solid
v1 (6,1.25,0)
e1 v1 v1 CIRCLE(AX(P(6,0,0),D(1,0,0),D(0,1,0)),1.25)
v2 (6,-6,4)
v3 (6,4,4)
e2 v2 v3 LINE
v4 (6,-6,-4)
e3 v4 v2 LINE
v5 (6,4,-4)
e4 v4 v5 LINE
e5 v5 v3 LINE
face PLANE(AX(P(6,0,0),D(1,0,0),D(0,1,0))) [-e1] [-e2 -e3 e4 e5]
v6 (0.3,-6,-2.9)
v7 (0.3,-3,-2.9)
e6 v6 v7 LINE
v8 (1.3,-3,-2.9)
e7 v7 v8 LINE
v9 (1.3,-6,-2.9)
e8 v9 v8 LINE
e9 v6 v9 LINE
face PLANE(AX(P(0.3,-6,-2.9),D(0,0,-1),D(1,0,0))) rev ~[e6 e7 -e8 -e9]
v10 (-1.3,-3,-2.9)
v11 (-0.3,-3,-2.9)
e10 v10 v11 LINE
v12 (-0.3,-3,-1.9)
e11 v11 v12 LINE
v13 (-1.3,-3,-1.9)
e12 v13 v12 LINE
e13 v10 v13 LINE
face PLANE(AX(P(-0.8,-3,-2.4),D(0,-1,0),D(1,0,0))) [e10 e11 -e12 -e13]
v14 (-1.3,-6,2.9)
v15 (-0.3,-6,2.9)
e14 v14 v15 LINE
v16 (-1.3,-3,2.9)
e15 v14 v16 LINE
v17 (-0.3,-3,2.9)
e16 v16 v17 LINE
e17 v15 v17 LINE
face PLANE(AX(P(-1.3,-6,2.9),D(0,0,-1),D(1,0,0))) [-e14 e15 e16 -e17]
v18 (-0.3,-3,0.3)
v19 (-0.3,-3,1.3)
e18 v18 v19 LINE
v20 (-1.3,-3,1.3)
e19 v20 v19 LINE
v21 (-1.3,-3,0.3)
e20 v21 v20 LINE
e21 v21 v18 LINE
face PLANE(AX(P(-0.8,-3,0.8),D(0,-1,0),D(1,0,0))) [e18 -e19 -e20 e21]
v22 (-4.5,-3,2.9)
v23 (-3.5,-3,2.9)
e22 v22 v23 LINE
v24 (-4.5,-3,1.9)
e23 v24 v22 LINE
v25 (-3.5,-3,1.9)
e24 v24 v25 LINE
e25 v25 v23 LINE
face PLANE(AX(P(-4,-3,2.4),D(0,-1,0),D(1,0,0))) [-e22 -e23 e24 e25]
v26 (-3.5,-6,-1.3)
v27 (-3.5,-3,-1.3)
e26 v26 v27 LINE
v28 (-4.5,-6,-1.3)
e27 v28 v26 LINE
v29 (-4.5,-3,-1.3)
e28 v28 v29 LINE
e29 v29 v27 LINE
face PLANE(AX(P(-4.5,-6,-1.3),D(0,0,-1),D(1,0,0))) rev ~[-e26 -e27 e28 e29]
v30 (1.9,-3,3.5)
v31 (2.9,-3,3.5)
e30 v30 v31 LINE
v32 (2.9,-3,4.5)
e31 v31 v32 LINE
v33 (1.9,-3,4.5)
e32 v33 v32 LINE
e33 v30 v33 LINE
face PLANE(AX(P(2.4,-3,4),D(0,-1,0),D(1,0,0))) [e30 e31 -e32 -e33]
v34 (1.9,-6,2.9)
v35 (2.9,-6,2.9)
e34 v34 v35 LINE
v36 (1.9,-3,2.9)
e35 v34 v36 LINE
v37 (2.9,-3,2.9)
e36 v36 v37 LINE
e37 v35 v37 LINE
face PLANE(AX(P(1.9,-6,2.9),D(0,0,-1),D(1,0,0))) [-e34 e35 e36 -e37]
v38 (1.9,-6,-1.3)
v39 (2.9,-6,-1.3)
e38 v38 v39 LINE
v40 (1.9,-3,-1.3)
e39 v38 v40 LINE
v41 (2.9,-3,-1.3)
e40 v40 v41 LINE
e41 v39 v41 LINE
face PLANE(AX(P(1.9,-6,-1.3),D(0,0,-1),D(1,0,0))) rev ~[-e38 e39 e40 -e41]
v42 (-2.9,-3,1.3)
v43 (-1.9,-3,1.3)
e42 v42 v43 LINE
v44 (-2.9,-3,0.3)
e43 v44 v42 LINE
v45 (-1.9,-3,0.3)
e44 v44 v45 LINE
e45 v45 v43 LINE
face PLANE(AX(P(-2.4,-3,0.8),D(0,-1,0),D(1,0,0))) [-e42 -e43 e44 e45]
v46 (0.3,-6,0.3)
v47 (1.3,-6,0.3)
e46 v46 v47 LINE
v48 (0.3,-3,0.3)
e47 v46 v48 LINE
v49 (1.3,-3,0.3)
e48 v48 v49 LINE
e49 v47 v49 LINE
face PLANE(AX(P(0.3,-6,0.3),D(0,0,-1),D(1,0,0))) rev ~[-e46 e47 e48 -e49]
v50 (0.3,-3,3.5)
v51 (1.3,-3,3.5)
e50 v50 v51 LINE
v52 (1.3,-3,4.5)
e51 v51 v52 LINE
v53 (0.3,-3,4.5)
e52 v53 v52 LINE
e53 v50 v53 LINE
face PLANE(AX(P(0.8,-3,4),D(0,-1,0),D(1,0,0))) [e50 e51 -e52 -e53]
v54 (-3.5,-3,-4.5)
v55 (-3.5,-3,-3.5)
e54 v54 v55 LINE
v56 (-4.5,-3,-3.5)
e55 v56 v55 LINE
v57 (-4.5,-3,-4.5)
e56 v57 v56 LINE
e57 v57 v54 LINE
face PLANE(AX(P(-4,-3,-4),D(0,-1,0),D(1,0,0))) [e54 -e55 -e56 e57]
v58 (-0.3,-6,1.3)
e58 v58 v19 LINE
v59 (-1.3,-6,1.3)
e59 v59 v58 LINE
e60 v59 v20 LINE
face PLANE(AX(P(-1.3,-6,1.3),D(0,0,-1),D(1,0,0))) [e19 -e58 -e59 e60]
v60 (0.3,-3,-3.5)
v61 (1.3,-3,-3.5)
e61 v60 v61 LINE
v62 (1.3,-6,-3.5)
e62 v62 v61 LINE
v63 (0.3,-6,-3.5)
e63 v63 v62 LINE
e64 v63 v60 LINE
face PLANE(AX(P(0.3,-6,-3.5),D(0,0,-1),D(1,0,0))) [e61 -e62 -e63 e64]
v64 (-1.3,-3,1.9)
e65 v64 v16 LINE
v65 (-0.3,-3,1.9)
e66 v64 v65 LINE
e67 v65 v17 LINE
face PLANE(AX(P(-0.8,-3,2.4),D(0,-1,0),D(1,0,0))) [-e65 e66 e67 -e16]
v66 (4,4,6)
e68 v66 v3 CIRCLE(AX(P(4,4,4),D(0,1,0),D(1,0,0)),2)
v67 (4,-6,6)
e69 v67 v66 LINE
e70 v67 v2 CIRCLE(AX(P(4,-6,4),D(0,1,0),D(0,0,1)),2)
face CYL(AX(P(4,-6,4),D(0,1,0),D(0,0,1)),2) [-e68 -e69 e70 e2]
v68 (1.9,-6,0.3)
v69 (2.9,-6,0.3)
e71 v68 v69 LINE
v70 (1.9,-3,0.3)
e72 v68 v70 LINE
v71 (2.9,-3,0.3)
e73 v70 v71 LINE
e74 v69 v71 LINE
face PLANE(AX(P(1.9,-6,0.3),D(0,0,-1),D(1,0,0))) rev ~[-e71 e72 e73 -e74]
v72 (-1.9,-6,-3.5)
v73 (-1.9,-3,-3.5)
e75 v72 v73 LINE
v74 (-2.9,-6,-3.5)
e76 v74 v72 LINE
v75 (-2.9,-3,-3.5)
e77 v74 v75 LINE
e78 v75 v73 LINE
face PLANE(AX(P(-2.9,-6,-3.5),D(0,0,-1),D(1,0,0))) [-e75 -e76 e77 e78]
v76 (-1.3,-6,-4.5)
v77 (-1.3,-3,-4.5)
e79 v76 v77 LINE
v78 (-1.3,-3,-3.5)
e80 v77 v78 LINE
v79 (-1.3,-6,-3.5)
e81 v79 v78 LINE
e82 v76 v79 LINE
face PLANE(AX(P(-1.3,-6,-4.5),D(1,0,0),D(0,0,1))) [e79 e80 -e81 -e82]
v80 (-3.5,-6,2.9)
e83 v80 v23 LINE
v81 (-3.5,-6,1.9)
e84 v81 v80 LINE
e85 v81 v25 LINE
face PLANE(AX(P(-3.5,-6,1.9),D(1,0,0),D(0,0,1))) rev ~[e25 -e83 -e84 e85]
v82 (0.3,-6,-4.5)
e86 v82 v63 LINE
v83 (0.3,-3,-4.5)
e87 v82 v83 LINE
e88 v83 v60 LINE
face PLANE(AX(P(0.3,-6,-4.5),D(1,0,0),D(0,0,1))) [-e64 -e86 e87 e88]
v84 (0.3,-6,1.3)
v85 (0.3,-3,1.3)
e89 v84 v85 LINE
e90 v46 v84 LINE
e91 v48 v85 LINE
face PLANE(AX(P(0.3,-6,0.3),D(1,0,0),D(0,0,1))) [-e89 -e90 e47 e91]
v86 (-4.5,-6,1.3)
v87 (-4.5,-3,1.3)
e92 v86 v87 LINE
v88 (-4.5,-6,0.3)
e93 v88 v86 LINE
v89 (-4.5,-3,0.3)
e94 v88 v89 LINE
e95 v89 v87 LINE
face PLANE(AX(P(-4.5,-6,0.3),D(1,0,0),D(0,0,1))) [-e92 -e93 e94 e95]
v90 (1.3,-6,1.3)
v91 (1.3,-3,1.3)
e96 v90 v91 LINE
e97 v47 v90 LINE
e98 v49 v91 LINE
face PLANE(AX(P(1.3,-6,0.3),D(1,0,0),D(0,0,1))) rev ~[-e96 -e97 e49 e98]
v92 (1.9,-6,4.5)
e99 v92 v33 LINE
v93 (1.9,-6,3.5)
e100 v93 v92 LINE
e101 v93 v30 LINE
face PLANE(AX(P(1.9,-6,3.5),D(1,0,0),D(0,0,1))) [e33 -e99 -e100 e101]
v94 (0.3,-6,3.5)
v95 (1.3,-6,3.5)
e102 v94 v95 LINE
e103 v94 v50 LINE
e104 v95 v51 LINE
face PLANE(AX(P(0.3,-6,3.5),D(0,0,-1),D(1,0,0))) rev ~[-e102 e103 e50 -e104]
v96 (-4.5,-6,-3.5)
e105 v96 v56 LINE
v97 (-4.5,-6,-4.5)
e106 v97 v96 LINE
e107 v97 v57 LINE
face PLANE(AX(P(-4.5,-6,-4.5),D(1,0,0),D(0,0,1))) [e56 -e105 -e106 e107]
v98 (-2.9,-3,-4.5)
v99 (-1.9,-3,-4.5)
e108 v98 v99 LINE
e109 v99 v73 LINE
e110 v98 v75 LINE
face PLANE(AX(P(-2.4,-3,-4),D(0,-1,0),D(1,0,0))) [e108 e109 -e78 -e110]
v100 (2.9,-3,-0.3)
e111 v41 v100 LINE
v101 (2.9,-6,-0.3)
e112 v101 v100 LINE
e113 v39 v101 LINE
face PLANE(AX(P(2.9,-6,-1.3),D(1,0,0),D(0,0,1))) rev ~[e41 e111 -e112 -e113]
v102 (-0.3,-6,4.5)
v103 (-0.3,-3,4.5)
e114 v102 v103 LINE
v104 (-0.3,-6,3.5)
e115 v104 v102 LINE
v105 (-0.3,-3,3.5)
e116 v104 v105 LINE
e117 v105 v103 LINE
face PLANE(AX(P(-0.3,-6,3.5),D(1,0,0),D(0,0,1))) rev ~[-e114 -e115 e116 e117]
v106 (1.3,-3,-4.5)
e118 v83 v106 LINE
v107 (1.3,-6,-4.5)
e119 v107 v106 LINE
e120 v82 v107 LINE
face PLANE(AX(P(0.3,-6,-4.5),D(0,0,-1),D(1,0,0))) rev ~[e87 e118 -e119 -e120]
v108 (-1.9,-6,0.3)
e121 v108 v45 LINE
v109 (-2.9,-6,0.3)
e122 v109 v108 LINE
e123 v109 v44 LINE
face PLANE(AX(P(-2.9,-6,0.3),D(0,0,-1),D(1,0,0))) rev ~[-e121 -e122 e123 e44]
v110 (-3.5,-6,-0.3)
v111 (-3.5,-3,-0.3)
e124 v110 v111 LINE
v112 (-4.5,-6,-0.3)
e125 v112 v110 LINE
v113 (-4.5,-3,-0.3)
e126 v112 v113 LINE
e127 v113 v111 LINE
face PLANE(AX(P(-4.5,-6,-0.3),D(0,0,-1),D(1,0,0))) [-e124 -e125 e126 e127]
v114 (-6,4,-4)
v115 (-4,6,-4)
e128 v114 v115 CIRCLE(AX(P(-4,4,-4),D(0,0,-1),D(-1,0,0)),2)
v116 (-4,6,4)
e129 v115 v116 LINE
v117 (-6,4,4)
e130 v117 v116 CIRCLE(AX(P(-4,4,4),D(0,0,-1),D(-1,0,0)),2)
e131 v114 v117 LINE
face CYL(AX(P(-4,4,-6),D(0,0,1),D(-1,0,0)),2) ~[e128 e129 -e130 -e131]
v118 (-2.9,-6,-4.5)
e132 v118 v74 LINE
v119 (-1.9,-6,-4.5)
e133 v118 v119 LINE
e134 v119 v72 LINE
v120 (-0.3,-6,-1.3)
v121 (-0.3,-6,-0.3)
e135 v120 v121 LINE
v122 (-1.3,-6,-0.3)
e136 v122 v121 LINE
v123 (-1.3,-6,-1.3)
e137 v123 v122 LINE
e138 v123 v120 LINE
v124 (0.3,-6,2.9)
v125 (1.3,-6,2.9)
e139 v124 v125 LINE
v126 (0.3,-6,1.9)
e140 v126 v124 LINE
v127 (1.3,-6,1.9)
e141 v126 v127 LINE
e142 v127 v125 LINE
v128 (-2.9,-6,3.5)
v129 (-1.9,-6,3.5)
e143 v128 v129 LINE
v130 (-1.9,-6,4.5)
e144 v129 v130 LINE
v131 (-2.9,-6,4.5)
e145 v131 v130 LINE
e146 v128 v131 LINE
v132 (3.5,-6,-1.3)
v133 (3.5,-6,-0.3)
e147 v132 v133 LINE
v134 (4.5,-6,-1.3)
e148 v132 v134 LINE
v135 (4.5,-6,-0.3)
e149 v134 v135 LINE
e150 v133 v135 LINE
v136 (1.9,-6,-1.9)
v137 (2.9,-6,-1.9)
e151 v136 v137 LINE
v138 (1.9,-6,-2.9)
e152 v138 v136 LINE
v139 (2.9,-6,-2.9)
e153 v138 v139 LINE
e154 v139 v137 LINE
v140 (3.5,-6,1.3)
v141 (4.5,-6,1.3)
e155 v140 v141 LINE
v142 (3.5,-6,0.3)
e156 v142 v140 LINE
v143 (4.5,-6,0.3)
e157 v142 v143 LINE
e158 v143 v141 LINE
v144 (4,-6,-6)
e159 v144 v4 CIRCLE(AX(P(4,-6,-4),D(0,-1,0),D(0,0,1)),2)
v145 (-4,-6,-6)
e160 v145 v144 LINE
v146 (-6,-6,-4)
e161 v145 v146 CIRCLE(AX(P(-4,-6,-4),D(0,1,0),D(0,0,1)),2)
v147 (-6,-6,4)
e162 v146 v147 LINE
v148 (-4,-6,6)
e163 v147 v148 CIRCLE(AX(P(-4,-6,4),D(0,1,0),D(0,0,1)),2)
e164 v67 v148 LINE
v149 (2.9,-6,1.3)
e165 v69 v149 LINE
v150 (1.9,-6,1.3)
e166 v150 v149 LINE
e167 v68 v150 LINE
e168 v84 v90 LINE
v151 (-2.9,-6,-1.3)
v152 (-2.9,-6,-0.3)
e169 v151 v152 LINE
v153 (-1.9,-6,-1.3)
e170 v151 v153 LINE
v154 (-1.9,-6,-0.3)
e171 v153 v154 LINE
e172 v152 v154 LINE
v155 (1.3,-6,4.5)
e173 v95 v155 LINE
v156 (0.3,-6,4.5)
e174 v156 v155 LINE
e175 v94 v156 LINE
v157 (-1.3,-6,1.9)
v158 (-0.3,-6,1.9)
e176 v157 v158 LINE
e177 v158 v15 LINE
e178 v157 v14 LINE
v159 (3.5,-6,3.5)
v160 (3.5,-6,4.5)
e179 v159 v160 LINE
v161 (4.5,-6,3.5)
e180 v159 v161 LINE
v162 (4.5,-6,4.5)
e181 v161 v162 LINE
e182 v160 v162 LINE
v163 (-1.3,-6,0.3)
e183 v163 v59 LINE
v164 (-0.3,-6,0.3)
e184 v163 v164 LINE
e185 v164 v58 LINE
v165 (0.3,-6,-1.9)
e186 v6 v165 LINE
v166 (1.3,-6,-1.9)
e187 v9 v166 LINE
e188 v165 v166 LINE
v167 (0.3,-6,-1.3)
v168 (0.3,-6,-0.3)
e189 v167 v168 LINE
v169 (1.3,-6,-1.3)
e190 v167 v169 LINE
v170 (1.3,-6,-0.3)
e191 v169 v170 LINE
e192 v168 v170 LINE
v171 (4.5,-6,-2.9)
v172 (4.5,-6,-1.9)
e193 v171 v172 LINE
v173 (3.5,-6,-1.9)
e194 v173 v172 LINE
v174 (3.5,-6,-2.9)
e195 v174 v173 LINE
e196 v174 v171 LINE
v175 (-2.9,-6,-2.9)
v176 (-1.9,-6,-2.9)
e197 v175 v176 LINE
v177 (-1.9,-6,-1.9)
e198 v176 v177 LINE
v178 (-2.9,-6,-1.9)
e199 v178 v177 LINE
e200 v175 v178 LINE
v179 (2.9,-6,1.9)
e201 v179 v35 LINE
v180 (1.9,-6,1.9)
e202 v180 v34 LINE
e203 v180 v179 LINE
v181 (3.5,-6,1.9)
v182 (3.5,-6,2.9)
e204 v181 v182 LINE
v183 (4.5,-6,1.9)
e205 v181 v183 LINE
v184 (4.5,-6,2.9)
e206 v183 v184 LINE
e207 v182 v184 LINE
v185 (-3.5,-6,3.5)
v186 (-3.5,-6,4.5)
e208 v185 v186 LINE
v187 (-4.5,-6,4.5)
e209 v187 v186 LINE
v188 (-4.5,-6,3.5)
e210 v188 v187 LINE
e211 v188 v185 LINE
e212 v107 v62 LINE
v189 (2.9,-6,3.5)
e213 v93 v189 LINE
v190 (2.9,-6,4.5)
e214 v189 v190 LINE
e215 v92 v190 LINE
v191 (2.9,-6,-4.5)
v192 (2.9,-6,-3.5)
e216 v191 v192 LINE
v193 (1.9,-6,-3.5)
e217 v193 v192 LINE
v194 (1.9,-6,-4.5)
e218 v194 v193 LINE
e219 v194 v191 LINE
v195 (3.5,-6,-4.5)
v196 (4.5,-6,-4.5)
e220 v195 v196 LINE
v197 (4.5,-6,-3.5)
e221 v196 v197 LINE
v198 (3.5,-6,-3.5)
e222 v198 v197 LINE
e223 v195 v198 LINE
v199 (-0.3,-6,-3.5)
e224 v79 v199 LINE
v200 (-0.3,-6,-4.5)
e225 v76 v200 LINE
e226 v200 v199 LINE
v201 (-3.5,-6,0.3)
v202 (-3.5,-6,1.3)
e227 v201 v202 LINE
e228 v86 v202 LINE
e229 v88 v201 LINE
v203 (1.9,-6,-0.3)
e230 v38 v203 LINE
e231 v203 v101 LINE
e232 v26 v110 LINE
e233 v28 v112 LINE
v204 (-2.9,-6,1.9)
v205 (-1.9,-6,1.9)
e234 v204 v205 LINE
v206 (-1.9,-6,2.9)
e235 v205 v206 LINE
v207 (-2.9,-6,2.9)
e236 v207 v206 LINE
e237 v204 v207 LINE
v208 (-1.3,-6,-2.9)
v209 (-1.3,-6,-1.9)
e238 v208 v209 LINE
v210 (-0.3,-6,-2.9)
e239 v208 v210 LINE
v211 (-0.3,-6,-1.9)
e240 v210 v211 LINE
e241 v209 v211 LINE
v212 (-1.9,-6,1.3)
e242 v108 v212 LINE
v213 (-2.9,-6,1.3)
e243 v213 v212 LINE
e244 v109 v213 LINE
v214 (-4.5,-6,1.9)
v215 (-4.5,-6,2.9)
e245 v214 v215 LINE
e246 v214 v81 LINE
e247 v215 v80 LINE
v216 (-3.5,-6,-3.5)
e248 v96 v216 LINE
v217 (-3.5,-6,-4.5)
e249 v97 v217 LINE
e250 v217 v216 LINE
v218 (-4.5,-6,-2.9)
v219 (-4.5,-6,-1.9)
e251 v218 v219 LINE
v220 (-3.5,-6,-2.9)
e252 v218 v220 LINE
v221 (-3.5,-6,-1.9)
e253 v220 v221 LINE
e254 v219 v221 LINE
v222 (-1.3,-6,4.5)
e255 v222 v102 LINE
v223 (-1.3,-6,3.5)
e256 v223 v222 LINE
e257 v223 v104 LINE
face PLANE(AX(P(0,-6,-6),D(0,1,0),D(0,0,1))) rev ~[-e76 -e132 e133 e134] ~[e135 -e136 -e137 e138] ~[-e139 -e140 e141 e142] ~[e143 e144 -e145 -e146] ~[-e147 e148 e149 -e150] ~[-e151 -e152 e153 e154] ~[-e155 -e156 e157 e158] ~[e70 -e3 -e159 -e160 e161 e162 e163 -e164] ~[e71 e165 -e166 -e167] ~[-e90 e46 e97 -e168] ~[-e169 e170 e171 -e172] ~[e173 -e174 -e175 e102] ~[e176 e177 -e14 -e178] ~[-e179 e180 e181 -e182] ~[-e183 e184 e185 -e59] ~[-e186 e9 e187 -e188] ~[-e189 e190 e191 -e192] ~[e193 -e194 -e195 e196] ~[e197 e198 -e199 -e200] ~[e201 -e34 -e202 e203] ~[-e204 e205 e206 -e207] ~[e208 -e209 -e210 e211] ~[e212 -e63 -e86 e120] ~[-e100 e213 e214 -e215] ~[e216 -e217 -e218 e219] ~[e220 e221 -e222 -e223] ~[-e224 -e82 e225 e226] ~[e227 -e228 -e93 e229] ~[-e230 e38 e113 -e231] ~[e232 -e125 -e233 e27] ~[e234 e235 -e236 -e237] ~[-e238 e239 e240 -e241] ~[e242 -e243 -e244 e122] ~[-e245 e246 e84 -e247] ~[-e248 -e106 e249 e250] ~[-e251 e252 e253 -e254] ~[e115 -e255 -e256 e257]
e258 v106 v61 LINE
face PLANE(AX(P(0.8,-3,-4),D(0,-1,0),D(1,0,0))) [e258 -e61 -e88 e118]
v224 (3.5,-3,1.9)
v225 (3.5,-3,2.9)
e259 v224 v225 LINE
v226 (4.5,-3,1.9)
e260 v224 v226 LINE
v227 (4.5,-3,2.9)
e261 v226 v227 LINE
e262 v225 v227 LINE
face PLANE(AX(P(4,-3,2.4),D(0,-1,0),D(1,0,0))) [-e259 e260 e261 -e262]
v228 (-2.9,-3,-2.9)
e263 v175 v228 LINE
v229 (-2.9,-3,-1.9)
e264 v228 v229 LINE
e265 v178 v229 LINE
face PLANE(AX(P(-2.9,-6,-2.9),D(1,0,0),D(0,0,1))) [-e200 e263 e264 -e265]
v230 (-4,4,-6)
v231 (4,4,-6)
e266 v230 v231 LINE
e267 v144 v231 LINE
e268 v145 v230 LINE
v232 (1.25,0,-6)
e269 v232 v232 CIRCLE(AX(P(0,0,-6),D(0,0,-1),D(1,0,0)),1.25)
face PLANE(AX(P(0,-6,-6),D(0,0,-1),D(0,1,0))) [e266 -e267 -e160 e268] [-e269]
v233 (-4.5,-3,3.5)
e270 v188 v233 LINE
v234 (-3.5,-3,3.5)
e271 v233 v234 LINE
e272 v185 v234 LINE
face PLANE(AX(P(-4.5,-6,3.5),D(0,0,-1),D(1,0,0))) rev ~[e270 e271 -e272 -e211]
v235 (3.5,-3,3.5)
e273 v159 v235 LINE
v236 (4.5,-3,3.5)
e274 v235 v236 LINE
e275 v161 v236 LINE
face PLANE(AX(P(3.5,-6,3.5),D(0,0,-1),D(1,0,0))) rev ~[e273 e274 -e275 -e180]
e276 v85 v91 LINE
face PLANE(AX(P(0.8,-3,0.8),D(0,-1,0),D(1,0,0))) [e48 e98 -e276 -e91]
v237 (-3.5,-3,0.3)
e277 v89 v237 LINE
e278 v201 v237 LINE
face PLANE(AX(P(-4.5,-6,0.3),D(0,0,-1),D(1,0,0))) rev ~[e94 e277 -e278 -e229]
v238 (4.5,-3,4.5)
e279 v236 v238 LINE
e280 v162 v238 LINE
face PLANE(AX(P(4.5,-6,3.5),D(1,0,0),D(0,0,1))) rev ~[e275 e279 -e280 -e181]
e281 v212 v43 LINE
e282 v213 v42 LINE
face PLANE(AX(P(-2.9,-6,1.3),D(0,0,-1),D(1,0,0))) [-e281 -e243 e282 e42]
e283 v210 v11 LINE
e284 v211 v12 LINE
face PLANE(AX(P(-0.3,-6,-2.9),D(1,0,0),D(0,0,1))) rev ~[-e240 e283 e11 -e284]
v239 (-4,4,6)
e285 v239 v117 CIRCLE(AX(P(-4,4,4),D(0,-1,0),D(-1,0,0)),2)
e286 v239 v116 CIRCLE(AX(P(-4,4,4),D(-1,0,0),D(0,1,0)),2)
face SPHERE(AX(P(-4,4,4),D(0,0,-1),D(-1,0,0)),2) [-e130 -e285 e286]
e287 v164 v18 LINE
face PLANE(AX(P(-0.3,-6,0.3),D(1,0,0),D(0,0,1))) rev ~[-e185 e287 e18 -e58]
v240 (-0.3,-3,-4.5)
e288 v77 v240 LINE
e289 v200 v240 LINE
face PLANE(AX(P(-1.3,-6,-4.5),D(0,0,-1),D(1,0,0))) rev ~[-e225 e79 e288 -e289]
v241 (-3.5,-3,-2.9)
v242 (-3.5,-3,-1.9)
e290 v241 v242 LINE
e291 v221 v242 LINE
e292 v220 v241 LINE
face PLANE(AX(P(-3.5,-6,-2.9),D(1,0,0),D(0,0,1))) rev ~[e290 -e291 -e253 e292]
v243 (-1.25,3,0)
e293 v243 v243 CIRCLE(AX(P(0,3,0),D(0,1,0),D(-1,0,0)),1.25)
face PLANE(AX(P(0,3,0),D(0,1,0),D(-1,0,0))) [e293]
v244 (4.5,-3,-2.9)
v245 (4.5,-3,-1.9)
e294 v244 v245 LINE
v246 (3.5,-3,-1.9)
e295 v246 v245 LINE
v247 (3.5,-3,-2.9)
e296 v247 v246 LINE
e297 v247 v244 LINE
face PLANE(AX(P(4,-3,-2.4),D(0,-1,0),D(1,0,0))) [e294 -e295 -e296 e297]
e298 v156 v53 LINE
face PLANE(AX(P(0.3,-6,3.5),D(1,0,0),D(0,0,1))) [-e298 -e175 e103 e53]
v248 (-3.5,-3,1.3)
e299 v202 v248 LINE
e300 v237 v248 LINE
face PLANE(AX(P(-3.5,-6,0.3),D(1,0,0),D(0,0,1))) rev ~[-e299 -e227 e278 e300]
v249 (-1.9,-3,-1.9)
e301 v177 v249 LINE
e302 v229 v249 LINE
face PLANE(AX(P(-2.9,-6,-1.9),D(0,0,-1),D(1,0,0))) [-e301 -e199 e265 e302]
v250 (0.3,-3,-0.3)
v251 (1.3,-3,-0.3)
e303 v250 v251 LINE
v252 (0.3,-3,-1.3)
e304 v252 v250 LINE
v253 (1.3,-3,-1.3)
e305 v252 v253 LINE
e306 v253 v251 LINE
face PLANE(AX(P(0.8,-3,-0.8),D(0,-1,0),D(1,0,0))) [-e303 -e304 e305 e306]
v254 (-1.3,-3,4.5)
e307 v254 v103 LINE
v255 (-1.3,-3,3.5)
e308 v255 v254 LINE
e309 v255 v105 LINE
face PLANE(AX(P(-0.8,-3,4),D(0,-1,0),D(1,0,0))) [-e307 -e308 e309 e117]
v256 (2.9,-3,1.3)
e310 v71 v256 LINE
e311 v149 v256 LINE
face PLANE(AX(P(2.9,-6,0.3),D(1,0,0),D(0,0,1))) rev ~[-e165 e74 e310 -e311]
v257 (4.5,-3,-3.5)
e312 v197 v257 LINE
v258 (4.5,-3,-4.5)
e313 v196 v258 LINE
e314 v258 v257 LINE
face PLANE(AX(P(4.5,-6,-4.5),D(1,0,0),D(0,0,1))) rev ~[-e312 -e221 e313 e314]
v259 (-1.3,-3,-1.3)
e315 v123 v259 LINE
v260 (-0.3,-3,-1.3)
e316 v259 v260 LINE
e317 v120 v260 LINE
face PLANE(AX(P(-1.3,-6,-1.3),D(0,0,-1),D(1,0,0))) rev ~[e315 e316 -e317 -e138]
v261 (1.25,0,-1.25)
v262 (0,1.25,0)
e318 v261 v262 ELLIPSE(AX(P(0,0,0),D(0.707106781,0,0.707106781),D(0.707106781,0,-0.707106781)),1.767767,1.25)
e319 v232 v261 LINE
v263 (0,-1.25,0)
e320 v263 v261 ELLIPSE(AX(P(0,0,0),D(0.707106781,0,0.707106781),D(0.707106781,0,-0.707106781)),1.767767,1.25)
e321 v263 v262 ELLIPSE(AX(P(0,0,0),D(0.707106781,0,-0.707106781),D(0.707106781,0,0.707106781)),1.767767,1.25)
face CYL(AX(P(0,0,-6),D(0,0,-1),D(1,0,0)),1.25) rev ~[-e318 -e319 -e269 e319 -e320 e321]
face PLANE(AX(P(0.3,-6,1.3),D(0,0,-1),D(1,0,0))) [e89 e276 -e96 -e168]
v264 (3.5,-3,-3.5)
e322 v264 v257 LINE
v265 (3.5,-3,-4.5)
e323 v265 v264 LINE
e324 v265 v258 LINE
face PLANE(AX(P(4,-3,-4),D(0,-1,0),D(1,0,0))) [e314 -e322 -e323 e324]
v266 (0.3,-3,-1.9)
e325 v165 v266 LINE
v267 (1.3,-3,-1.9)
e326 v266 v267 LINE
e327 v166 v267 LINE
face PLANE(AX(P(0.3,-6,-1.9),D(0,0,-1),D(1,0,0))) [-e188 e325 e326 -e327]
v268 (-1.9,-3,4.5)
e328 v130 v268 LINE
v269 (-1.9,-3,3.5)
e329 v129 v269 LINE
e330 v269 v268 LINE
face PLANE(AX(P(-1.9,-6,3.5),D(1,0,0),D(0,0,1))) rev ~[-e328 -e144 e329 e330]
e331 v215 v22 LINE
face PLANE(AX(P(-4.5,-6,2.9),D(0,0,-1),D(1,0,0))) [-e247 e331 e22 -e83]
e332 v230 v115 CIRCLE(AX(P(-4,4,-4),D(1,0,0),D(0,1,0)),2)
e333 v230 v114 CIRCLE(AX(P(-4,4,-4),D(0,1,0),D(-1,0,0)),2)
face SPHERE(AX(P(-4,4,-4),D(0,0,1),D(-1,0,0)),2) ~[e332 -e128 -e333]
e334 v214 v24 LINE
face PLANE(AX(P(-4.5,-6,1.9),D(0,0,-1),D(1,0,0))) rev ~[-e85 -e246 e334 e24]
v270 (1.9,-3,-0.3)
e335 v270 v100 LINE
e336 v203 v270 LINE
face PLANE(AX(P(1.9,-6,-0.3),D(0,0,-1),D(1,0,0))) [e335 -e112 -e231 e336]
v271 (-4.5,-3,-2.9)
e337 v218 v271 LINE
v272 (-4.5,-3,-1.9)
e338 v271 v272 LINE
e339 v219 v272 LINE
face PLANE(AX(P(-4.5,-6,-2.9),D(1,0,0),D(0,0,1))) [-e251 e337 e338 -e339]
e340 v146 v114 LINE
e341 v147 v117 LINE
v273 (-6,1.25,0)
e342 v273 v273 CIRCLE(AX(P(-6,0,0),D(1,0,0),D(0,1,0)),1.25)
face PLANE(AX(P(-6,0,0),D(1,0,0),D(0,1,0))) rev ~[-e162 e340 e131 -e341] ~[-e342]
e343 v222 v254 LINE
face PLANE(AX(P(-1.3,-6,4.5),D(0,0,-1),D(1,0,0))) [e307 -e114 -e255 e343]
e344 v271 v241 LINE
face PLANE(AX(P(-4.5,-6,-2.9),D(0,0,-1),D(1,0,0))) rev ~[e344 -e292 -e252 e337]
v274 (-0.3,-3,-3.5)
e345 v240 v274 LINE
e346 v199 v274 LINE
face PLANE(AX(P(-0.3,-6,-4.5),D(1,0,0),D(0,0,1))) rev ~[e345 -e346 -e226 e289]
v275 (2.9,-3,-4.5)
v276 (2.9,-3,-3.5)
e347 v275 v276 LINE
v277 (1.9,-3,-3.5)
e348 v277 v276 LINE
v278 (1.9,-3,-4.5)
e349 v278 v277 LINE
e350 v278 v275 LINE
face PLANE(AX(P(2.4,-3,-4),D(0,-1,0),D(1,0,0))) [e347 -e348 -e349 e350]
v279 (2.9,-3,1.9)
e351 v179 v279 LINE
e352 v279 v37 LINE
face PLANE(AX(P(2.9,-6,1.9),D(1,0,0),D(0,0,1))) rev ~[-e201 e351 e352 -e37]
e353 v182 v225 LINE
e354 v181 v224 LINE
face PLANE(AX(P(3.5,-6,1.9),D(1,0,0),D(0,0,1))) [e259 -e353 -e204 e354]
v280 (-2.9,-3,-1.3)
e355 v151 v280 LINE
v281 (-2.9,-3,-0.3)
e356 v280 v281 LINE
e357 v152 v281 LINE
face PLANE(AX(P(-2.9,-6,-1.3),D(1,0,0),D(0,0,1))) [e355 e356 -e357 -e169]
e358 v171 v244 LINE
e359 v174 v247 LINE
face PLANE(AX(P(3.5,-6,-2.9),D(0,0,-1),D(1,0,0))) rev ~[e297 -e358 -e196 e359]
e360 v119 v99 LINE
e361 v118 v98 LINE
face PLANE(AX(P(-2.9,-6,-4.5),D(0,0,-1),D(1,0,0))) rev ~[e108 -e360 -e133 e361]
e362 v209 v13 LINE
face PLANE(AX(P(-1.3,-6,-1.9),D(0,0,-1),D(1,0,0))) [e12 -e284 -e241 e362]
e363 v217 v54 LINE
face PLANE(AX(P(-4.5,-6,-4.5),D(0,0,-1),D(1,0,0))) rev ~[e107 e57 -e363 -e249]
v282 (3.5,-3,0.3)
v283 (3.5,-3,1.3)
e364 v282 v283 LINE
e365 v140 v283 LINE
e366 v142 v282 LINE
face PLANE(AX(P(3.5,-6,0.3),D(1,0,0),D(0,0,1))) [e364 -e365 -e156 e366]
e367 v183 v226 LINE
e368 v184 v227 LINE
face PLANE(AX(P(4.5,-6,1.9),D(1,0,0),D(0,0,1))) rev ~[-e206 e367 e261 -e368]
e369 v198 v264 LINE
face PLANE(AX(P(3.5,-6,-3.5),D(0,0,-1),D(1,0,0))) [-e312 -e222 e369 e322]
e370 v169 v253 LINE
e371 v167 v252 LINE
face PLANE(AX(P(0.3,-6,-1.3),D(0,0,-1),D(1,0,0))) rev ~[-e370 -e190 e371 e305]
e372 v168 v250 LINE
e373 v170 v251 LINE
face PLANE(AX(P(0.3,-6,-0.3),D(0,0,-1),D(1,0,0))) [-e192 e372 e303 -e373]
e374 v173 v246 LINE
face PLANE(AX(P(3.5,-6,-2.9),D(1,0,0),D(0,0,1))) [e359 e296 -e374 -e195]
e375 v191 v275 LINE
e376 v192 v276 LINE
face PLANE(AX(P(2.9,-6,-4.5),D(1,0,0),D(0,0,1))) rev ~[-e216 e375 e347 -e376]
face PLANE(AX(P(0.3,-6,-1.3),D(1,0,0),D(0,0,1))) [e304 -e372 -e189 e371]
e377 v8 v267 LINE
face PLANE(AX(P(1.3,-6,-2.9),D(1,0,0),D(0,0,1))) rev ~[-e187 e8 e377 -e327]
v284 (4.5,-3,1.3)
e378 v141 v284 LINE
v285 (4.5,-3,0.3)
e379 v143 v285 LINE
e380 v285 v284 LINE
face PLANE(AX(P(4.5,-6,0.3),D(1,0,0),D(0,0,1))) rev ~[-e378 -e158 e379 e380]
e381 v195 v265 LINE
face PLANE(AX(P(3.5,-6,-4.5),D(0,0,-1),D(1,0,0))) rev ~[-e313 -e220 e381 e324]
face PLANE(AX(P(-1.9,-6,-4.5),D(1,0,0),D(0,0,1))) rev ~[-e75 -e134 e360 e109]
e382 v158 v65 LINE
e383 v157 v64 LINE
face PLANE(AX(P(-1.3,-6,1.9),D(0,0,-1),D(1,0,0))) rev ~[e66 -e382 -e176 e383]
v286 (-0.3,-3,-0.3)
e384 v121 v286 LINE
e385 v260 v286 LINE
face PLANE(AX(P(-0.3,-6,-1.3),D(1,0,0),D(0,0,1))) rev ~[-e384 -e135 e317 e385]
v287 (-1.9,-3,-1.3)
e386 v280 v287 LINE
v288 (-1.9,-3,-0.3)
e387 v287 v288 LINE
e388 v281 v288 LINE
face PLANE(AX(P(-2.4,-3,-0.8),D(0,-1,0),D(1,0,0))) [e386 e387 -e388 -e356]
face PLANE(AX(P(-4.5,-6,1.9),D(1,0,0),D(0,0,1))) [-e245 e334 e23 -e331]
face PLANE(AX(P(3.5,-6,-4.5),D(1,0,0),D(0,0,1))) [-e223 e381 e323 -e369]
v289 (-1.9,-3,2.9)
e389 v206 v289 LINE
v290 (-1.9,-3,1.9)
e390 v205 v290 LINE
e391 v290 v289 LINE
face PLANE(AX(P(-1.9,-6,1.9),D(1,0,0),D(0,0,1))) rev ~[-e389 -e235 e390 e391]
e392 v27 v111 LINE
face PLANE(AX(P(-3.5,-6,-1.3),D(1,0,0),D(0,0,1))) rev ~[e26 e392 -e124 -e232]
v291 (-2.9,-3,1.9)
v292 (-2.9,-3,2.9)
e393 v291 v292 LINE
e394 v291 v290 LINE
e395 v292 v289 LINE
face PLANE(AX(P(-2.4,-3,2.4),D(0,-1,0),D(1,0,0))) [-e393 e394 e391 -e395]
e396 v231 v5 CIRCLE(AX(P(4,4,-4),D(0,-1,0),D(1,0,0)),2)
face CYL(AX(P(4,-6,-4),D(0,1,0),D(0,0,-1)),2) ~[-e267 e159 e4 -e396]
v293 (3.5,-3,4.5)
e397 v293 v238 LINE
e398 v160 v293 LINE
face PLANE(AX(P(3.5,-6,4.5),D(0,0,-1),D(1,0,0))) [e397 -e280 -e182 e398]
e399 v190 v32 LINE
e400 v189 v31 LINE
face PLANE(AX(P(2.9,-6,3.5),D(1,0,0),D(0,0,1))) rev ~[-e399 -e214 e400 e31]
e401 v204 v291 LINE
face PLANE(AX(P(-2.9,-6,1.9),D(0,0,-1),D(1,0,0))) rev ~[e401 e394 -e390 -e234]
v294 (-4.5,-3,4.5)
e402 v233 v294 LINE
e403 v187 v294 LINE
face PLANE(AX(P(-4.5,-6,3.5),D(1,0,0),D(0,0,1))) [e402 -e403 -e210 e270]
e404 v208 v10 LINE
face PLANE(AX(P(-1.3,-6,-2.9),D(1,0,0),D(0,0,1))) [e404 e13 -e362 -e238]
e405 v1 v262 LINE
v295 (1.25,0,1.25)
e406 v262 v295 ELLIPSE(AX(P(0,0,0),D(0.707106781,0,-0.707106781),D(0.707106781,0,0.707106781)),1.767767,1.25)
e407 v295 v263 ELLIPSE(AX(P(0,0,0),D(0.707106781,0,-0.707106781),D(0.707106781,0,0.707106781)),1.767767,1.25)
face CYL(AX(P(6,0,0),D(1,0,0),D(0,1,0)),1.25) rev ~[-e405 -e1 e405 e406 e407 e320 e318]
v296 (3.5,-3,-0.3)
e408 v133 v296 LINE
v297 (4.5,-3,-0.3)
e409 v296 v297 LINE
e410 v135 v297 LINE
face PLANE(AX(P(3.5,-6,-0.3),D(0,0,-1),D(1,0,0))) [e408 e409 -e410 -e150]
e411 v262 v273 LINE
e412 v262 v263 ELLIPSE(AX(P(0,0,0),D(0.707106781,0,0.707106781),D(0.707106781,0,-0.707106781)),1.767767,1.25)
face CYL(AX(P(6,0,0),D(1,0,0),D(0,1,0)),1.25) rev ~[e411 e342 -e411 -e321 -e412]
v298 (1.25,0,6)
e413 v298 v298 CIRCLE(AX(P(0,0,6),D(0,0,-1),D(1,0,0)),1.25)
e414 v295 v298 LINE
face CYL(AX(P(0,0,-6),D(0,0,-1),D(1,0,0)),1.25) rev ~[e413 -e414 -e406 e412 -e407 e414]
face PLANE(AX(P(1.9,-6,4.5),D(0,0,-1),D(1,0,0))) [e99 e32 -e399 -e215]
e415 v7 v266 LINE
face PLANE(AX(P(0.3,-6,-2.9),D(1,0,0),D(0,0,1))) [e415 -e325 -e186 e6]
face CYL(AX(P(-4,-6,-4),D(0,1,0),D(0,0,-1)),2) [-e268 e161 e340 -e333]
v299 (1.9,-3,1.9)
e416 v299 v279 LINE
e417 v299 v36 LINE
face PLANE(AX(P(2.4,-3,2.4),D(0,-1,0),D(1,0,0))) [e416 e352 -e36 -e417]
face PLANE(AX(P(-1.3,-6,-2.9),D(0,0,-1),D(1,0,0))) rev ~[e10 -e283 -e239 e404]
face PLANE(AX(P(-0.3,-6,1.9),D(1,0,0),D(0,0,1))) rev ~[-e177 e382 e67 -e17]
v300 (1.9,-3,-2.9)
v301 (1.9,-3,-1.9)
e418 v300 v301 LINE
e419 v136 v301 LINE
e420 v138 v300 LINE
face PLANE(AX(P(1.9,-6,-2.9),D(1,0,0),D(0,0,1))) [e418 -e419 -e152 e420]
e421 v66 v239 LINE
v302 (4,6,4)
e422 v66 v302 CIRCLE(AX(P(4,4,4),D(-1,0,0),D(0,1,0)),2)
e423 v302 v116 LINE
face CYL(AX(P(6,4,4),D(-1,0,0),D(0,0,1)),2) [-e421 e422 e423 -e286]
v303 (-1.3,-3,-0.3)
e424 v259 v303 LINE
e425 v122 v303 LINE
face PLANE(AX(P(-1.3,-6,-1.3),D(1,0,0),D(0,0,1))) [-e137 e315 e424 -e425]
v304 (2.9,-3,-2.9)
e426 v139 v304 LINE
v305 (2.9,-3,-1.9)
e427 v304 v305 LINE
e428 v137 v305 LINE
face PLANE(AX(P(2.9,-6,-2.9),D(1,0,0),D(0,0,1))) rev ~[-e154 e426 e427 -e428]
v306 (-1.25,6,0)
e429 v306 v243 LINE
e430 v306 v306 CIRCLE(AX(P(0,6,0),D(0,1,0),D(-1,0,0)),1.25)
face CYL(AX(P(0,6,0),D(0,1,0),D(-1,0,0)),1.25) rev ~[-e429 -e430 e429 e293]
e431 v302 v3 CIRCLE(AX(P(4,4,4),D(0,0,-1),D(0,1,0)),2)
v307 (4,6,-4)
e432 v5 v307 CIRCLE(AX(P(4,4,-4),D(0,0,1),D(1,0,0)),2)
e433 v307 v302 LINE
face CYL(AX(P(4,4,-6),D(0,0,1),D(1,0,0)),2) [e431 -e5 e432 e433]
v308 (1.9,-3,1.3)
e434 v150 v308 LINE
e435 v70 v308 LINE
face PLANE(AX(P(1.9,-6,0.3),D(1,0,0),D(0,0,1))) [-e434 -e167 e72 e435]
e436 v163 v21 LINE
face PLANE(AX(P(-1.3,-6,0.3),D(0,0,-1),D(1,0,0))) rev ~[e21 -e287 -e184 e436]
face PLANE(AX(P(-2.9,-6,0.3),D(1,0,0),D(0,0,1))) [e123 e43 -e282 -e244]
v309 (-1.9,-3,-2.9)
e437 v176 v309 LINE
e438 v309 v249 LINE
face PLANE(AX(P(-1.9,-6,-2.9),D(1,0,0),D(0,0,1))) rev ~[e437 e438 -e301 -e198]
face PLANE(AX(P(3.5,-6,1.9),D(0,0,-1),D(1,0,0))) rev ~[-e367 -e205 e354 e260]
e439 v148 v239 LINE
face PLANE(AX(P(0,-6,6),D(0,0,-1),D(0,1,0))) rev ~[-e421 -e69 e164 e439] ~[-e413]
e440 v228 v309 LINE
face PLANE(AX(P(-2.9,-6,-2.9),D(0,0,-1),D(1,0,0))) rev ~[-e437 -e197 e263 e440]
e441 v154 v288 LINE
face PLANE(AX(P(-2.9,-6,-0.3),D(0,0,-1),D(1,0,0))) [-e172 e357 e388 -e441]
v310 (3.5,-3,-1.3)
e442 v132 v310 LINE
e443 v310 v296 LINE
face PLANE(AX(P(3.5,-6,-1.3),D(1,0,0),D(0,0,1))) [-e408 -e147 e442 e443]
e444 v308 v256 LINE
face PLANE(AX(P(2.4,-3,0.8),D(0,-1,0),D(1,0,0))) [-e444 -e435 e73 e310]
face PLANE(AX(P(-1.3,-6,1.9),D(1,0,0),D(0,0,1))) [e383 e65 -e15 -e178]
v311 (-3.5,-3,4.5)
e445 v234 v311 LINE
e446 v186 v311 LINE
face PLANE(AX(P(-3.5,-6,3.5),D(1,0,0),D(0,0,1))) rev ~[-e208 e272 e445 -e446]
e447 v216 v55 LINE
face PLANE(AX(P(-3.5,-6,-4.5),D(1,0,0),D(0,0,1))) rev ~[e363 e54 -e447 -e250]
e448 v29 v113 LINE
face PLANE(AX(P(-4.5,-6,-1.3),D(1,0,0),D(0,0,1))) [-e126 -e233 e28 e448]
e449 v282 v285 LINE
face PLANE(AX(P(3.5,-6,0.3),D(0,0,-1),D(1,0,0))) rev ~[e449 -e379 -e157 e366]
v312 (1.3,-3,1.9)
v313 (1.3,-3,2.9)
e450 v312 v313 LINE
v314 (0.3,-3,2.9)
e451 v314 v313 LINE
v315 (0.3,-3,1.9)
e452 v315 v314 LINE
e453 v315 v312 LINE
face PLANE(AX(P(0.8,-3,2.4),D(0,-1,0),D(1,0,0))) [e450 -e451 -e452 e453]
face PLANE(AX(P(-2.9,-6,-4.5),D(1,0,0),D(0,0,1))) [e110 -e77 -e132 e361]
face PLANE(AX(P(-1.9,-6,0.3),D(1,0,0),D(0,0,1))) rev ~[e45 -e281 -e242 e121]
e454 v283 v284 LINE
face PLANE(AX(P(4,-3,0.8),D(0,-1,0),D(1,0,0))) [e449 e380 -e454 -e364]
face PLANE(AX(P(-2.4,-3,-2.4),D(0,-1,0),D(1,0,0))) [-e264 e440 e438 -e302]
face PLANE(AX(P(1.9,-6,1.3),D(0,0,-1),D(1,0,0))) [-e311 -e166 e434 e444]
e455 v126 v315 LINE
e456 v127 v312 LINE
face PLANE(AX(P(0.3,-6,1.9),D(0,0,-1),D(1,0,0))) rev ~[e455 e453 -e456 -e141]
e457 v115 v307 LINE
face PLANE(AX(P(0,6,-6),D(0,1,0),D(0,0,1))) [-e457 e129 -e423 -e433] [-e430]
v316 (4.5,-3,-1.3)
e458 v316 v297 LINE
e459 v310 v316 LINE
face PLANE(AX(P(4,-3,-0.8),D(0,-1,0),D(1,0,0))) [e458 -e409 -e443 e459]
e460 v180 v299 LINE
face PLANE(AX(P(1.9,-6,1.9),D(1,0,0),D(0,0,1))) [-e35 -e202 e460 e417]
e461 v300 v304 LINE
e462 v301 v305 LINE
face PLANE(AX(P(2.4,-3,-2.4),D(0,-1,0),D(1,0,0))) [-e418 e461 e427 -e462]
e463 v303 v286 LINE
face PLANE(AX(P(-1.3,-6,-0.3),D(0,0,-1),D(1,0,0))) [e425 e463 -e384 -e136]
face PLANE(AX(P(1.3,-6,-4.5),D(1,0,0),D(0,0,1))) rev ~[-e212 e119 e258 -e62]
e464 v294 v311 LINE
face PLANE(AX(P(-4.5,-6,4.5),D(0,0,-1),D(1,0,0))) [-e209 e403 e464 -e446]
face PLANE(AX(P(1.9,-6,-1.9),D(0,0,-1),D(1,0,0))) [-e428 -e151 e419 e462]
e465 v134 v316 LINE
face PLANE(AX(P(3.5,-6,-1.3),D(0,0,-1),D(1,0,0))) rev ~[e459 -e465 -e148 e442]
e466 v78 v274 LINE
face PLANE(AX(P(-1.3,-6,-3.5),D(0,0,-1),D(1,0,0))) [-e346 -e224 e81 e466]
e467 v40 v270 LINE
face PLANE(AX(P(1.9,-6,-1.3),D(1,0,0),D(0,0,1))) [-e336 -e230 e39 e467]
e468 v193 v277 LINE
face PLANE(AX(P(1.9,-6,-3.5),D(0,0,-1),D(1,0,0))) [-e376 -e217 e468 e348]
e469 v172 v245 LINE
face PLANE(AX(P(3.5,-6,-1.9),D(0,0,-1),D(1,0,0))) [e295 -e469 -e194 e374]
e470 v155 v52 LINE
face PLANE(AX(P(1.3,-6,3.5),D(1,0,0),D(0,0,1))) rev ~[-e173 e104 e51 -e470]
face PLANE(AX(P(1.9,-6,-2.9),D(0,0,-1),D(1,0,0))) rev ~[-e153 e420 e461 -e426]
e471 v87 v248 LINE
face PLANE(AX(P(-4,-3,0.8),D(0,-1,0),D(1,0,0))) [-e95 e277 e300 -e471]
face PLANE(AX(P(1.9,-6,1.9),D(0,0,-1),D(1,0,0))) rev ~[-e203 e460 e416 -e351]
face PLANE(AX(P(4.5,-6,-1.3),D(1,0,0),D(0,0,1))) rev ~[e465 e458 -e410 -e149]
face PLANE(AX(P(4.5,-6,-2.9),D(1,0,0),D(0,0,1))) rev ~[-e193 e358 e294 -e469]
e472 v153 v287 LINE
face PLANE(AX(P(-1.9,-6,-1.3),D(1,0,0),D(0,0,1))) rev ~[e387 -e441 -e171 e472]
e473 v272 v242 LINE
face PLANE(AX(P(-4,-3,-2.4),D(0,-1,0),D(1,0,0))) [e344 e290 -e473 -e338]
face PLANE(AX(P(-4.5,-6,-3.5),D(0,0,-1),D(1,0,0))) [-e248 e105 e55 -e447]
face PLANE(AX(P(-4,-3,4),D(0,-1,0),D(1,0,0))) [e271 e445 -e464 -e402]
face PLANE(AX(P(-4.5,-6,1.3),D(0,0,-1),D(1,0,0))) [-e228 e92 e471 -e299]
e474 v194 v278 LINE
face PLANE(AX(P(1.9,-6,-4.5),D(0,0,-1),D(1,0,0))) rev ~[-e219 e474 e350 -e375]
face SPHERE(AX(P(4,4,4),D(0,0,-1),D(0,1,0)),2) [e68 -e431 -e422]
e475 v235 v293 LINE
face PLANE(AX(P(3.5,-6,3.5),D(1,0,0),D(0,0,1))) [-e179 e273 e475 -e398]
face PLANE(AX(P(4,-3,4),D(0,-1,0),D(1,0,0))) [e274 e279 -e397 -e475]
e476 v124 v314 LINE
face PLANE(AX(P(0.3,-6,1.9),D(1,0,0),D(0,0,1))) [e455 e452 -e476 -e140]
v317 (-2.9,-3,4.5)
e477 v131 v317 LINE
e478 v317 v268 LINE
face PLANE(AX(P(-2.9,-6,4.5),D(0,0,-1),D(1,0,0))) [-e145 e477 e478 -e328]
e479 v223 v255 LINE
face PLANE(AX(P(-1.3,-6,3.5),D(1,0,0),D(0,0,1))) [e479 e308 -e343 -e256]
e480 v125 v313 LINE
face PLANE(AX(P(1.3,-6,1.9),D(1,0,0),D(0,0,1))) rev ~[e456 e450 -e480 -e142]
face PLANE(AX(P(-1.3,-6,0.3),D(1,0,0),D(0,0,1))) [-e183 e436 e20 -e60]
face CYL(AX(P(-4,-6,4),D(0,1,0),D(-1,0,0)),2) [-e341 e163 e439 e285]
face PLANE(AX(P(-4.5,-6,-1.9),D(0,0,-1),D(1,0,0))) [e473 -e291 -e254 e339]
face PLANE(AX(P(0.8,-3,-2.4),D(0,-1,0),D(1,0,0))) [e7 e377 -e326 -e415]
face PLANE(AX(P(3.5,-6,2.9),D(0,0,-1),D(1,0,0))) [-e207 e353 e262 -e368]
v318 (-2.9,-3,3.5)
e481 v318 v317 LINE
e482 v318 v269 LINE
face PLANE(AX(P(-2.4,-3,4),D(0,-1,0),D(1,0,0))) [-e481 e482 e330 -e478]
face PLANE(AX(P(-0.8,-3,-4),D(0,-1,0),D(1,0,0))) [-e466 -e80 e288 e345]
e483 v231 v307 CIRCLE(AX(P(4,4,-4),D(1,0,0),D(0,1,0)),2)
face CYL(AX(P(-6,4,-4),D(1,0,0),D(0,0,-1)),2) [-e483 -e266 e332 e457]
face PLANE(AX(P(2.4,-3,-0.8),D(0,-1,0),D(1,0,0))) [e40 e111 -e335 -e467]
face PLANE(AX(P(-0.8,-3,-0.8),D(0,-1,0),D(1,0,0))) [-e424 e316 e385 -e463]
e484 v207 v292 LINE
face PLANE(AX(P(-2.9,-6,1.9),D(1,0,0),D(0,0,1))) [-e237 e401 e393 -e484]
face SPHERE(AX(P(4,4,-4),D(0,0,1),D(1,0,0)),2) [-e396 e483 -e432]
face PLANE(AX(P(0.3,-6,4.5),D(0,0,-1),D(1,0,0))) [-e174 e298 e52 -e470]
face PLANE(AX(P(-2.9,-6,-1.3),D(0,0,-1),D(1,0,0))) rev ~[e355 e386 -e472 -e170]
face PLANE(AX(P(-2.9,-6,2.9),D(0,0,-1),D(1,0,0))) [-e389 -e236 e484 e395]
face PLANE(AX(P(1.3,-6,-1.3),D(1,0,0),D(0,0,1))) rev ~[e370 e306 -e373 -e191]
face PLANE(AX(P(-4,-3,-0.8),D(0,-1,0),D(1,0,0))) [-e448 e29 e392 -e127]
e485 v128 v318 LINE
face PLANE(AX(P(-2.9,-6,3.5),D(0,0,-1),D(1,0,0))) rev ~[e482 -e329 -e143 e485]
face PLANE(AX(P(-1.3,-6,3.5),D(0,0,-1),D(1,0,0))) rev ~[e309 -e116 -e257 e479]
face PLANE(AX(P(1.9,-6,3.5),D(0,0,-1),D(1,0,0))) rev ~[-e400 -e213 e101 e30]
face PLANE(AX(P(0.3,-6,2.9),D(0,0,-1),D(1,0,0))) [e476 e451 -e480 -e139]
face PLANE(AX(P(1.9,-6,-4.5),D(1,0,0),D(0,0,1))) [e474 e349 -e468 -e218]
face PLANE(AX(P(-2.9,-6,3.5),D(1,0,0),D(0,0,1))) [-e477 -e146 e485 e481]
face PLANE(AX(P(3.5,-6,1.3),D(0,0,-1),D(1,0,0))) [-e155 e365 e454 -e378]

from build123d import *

# Parameters (mm, degrees)
F0_W      = 12
F0_H      = 12
F1_DEPTH  = 6
F2_R      = 1.25
F3_DEPTH  = 12.001
F4_R      = 1.25
F5_DEPTH  = 3
F6_R      = 1.25
F7_DEPTH  = 25
F8_R      = 2
F9_W      = 1
F9_H      = 1
F10_DEPTH = 3


with BuildPart() as f1:
    # F0 (on Right) → F1 (new body, symmetric)
    with BuildSketch(Plane.YZ):
        Rectangle(F0_W, F0_H)
    extrude(amount=F1_DEPTH, both=True)

    # F2 (on face) → F3 (cut, through all)
    with BuildSketch(Plane.YZ.offset(6)):
        Circle(F2_R)
    extrude(amount=-F3_DEPTH, mode=Mode.SUBTRACT)

    # F4 (on face) → F5 (cut)
    with BuildSketch(Plane(origin=(0, 6, 0), x_dir=(-1, 0, 0), z_dir=(0, 1, 0))):
        Circle(F4_R)
    extrude(amount=-F5_DEPTH, mode=Mode.SUBTRACT)

    # F6 (on face) → F7 (cut)
    with BuildSketch(Plane(origin=(0, 0, -6), x_dir=(1, 0, 0), z_dir=(0, 0, -1))):
        Circle(F6_R)
    extrude(amount=-F7_DEPTH, mode=Mode.SUBTRACT)

    # F8
    f8_edges = [f1.edges().sort_by_distance(p)[0] for p in [
        (6, 6, 0),
        (-6, 6, 0),
        (-6, 0, -6),
        (6, 0, -6),
        (0, 6, -6),
        (-6, 0, 6),
        (0, 6, 6),
        (6, 0, 6),
    ]]
    fillet(f8_edges, radius=F8_R)

    # F9 (on face) → F10 (cut)
    with BuildSketch(Plane.XZ.offset(6)):
        with Locations((-4, 4)):
            Rectangle(F9_W, F9_H)
        with Locations((-4, 2.4)):
            Rectangle(F9_W, F9_H)
        with Locations((-4, 0.8)):
            Rectangle(F9_W, F9_H)
        with Locations((-4, -0.8)):
            Rectangle(F9_W, F9_H)
        with Locations((-4, -2.4)):
            Rectangle(F9_W, F9_H)
        with Locations((-4, -4)):
            Rectangle(F9_W, F9_H)
        with Locations((-2.4, 4)):
            Rectangle(F9_W, F9_H)
        with Locations((-2.4, 2.4)):
            Rectangle(F9_W, F9_H)
        with Locations((-2.4, 0.8)):
            Rectangle(F9_W, F9_H)
        with Locations((-2.4, -0.8)):
            Rectangle(F9_W, F9_H)
        with Locations((-2.4, -2.4)):
            Rectangle(F9_W, F9_H)
        with Locations((-2.4, -4)):
            Rectangle(F9_W, F9_H)
        with Locations((-0.8, 4)):
            Rectangle(F9_W, F9_H)
        with Locations((-0.8, 2.4)):
            Rectangle(F9_W, F9_H)
        with Locations((-0.8, 0.8)):
            Rectangle(F9_W, F9_H)
        with Locations((-0.8, -0.8)):
            Rectangle(F9_W, F9_H)
        with Locations((-0.8, -2.4)):
            Rectangle(F9_W, F9_H)
        with Locations((-0.8, -4)):
            Rectangle(F9_W, F9_H)
        with Locations((0.8, 4)):
            Rectangle(F9_W, F9_H)
        with Locations((0.8, 2.4)):
            Rectangle(F9_W, F9_H)
        with Locations((0.8, 0.8)):
            Rectangle(F9_W, F9_H)
        with Locations((0.8, -0.8)):
            Rectangle(F9_W, F9_H)
        with Locations((0.8, -2.4)):
            Rectangle(F9_W, F9_H)
        with Locations((0.8, -4)):
            Rectangle(F9_W, F9_H)
        with Locations((2.4, 4)):
            Rectangle(F9_W, F9_H)
        with Locations((2.4, 2.4)):
            Rectangle(F9_W, F9_H)
        with Locations((2.4, 0.8)):
            Rectangle(F9_W, F9_H)
        with Locations((2.4, -0.8)):
            Rectangle(F9_W, F9_H)
        with Locations((2.4, -2.4)):
            Rectangle(F9_W, F9_H)
        with Locations((2.4, -4)):
            Rectangle(F9_W, F9_H)
        with Locations((4, 4)):
            Rectangle(F9_W, F9_H)
        with Locations((4, 2.4)):
            Rectangle(F9_W, F9_H)
        with Locations((4, 0.8)):
            Rectangle(F9_W, F9_H)
        with Locations((4, -0.8)):
            Rectangle(F9_W, F9_H)
        with Locations((4, -2.4)):
            Rectangle(F9_W, F9_H)
        with Locations((4, -4)):
            Rectangle(F9_W, F9_H)
    extrude(amount=-F10_DEPTH, mode=Mode.SUBTRACT)


solid = f1.part
